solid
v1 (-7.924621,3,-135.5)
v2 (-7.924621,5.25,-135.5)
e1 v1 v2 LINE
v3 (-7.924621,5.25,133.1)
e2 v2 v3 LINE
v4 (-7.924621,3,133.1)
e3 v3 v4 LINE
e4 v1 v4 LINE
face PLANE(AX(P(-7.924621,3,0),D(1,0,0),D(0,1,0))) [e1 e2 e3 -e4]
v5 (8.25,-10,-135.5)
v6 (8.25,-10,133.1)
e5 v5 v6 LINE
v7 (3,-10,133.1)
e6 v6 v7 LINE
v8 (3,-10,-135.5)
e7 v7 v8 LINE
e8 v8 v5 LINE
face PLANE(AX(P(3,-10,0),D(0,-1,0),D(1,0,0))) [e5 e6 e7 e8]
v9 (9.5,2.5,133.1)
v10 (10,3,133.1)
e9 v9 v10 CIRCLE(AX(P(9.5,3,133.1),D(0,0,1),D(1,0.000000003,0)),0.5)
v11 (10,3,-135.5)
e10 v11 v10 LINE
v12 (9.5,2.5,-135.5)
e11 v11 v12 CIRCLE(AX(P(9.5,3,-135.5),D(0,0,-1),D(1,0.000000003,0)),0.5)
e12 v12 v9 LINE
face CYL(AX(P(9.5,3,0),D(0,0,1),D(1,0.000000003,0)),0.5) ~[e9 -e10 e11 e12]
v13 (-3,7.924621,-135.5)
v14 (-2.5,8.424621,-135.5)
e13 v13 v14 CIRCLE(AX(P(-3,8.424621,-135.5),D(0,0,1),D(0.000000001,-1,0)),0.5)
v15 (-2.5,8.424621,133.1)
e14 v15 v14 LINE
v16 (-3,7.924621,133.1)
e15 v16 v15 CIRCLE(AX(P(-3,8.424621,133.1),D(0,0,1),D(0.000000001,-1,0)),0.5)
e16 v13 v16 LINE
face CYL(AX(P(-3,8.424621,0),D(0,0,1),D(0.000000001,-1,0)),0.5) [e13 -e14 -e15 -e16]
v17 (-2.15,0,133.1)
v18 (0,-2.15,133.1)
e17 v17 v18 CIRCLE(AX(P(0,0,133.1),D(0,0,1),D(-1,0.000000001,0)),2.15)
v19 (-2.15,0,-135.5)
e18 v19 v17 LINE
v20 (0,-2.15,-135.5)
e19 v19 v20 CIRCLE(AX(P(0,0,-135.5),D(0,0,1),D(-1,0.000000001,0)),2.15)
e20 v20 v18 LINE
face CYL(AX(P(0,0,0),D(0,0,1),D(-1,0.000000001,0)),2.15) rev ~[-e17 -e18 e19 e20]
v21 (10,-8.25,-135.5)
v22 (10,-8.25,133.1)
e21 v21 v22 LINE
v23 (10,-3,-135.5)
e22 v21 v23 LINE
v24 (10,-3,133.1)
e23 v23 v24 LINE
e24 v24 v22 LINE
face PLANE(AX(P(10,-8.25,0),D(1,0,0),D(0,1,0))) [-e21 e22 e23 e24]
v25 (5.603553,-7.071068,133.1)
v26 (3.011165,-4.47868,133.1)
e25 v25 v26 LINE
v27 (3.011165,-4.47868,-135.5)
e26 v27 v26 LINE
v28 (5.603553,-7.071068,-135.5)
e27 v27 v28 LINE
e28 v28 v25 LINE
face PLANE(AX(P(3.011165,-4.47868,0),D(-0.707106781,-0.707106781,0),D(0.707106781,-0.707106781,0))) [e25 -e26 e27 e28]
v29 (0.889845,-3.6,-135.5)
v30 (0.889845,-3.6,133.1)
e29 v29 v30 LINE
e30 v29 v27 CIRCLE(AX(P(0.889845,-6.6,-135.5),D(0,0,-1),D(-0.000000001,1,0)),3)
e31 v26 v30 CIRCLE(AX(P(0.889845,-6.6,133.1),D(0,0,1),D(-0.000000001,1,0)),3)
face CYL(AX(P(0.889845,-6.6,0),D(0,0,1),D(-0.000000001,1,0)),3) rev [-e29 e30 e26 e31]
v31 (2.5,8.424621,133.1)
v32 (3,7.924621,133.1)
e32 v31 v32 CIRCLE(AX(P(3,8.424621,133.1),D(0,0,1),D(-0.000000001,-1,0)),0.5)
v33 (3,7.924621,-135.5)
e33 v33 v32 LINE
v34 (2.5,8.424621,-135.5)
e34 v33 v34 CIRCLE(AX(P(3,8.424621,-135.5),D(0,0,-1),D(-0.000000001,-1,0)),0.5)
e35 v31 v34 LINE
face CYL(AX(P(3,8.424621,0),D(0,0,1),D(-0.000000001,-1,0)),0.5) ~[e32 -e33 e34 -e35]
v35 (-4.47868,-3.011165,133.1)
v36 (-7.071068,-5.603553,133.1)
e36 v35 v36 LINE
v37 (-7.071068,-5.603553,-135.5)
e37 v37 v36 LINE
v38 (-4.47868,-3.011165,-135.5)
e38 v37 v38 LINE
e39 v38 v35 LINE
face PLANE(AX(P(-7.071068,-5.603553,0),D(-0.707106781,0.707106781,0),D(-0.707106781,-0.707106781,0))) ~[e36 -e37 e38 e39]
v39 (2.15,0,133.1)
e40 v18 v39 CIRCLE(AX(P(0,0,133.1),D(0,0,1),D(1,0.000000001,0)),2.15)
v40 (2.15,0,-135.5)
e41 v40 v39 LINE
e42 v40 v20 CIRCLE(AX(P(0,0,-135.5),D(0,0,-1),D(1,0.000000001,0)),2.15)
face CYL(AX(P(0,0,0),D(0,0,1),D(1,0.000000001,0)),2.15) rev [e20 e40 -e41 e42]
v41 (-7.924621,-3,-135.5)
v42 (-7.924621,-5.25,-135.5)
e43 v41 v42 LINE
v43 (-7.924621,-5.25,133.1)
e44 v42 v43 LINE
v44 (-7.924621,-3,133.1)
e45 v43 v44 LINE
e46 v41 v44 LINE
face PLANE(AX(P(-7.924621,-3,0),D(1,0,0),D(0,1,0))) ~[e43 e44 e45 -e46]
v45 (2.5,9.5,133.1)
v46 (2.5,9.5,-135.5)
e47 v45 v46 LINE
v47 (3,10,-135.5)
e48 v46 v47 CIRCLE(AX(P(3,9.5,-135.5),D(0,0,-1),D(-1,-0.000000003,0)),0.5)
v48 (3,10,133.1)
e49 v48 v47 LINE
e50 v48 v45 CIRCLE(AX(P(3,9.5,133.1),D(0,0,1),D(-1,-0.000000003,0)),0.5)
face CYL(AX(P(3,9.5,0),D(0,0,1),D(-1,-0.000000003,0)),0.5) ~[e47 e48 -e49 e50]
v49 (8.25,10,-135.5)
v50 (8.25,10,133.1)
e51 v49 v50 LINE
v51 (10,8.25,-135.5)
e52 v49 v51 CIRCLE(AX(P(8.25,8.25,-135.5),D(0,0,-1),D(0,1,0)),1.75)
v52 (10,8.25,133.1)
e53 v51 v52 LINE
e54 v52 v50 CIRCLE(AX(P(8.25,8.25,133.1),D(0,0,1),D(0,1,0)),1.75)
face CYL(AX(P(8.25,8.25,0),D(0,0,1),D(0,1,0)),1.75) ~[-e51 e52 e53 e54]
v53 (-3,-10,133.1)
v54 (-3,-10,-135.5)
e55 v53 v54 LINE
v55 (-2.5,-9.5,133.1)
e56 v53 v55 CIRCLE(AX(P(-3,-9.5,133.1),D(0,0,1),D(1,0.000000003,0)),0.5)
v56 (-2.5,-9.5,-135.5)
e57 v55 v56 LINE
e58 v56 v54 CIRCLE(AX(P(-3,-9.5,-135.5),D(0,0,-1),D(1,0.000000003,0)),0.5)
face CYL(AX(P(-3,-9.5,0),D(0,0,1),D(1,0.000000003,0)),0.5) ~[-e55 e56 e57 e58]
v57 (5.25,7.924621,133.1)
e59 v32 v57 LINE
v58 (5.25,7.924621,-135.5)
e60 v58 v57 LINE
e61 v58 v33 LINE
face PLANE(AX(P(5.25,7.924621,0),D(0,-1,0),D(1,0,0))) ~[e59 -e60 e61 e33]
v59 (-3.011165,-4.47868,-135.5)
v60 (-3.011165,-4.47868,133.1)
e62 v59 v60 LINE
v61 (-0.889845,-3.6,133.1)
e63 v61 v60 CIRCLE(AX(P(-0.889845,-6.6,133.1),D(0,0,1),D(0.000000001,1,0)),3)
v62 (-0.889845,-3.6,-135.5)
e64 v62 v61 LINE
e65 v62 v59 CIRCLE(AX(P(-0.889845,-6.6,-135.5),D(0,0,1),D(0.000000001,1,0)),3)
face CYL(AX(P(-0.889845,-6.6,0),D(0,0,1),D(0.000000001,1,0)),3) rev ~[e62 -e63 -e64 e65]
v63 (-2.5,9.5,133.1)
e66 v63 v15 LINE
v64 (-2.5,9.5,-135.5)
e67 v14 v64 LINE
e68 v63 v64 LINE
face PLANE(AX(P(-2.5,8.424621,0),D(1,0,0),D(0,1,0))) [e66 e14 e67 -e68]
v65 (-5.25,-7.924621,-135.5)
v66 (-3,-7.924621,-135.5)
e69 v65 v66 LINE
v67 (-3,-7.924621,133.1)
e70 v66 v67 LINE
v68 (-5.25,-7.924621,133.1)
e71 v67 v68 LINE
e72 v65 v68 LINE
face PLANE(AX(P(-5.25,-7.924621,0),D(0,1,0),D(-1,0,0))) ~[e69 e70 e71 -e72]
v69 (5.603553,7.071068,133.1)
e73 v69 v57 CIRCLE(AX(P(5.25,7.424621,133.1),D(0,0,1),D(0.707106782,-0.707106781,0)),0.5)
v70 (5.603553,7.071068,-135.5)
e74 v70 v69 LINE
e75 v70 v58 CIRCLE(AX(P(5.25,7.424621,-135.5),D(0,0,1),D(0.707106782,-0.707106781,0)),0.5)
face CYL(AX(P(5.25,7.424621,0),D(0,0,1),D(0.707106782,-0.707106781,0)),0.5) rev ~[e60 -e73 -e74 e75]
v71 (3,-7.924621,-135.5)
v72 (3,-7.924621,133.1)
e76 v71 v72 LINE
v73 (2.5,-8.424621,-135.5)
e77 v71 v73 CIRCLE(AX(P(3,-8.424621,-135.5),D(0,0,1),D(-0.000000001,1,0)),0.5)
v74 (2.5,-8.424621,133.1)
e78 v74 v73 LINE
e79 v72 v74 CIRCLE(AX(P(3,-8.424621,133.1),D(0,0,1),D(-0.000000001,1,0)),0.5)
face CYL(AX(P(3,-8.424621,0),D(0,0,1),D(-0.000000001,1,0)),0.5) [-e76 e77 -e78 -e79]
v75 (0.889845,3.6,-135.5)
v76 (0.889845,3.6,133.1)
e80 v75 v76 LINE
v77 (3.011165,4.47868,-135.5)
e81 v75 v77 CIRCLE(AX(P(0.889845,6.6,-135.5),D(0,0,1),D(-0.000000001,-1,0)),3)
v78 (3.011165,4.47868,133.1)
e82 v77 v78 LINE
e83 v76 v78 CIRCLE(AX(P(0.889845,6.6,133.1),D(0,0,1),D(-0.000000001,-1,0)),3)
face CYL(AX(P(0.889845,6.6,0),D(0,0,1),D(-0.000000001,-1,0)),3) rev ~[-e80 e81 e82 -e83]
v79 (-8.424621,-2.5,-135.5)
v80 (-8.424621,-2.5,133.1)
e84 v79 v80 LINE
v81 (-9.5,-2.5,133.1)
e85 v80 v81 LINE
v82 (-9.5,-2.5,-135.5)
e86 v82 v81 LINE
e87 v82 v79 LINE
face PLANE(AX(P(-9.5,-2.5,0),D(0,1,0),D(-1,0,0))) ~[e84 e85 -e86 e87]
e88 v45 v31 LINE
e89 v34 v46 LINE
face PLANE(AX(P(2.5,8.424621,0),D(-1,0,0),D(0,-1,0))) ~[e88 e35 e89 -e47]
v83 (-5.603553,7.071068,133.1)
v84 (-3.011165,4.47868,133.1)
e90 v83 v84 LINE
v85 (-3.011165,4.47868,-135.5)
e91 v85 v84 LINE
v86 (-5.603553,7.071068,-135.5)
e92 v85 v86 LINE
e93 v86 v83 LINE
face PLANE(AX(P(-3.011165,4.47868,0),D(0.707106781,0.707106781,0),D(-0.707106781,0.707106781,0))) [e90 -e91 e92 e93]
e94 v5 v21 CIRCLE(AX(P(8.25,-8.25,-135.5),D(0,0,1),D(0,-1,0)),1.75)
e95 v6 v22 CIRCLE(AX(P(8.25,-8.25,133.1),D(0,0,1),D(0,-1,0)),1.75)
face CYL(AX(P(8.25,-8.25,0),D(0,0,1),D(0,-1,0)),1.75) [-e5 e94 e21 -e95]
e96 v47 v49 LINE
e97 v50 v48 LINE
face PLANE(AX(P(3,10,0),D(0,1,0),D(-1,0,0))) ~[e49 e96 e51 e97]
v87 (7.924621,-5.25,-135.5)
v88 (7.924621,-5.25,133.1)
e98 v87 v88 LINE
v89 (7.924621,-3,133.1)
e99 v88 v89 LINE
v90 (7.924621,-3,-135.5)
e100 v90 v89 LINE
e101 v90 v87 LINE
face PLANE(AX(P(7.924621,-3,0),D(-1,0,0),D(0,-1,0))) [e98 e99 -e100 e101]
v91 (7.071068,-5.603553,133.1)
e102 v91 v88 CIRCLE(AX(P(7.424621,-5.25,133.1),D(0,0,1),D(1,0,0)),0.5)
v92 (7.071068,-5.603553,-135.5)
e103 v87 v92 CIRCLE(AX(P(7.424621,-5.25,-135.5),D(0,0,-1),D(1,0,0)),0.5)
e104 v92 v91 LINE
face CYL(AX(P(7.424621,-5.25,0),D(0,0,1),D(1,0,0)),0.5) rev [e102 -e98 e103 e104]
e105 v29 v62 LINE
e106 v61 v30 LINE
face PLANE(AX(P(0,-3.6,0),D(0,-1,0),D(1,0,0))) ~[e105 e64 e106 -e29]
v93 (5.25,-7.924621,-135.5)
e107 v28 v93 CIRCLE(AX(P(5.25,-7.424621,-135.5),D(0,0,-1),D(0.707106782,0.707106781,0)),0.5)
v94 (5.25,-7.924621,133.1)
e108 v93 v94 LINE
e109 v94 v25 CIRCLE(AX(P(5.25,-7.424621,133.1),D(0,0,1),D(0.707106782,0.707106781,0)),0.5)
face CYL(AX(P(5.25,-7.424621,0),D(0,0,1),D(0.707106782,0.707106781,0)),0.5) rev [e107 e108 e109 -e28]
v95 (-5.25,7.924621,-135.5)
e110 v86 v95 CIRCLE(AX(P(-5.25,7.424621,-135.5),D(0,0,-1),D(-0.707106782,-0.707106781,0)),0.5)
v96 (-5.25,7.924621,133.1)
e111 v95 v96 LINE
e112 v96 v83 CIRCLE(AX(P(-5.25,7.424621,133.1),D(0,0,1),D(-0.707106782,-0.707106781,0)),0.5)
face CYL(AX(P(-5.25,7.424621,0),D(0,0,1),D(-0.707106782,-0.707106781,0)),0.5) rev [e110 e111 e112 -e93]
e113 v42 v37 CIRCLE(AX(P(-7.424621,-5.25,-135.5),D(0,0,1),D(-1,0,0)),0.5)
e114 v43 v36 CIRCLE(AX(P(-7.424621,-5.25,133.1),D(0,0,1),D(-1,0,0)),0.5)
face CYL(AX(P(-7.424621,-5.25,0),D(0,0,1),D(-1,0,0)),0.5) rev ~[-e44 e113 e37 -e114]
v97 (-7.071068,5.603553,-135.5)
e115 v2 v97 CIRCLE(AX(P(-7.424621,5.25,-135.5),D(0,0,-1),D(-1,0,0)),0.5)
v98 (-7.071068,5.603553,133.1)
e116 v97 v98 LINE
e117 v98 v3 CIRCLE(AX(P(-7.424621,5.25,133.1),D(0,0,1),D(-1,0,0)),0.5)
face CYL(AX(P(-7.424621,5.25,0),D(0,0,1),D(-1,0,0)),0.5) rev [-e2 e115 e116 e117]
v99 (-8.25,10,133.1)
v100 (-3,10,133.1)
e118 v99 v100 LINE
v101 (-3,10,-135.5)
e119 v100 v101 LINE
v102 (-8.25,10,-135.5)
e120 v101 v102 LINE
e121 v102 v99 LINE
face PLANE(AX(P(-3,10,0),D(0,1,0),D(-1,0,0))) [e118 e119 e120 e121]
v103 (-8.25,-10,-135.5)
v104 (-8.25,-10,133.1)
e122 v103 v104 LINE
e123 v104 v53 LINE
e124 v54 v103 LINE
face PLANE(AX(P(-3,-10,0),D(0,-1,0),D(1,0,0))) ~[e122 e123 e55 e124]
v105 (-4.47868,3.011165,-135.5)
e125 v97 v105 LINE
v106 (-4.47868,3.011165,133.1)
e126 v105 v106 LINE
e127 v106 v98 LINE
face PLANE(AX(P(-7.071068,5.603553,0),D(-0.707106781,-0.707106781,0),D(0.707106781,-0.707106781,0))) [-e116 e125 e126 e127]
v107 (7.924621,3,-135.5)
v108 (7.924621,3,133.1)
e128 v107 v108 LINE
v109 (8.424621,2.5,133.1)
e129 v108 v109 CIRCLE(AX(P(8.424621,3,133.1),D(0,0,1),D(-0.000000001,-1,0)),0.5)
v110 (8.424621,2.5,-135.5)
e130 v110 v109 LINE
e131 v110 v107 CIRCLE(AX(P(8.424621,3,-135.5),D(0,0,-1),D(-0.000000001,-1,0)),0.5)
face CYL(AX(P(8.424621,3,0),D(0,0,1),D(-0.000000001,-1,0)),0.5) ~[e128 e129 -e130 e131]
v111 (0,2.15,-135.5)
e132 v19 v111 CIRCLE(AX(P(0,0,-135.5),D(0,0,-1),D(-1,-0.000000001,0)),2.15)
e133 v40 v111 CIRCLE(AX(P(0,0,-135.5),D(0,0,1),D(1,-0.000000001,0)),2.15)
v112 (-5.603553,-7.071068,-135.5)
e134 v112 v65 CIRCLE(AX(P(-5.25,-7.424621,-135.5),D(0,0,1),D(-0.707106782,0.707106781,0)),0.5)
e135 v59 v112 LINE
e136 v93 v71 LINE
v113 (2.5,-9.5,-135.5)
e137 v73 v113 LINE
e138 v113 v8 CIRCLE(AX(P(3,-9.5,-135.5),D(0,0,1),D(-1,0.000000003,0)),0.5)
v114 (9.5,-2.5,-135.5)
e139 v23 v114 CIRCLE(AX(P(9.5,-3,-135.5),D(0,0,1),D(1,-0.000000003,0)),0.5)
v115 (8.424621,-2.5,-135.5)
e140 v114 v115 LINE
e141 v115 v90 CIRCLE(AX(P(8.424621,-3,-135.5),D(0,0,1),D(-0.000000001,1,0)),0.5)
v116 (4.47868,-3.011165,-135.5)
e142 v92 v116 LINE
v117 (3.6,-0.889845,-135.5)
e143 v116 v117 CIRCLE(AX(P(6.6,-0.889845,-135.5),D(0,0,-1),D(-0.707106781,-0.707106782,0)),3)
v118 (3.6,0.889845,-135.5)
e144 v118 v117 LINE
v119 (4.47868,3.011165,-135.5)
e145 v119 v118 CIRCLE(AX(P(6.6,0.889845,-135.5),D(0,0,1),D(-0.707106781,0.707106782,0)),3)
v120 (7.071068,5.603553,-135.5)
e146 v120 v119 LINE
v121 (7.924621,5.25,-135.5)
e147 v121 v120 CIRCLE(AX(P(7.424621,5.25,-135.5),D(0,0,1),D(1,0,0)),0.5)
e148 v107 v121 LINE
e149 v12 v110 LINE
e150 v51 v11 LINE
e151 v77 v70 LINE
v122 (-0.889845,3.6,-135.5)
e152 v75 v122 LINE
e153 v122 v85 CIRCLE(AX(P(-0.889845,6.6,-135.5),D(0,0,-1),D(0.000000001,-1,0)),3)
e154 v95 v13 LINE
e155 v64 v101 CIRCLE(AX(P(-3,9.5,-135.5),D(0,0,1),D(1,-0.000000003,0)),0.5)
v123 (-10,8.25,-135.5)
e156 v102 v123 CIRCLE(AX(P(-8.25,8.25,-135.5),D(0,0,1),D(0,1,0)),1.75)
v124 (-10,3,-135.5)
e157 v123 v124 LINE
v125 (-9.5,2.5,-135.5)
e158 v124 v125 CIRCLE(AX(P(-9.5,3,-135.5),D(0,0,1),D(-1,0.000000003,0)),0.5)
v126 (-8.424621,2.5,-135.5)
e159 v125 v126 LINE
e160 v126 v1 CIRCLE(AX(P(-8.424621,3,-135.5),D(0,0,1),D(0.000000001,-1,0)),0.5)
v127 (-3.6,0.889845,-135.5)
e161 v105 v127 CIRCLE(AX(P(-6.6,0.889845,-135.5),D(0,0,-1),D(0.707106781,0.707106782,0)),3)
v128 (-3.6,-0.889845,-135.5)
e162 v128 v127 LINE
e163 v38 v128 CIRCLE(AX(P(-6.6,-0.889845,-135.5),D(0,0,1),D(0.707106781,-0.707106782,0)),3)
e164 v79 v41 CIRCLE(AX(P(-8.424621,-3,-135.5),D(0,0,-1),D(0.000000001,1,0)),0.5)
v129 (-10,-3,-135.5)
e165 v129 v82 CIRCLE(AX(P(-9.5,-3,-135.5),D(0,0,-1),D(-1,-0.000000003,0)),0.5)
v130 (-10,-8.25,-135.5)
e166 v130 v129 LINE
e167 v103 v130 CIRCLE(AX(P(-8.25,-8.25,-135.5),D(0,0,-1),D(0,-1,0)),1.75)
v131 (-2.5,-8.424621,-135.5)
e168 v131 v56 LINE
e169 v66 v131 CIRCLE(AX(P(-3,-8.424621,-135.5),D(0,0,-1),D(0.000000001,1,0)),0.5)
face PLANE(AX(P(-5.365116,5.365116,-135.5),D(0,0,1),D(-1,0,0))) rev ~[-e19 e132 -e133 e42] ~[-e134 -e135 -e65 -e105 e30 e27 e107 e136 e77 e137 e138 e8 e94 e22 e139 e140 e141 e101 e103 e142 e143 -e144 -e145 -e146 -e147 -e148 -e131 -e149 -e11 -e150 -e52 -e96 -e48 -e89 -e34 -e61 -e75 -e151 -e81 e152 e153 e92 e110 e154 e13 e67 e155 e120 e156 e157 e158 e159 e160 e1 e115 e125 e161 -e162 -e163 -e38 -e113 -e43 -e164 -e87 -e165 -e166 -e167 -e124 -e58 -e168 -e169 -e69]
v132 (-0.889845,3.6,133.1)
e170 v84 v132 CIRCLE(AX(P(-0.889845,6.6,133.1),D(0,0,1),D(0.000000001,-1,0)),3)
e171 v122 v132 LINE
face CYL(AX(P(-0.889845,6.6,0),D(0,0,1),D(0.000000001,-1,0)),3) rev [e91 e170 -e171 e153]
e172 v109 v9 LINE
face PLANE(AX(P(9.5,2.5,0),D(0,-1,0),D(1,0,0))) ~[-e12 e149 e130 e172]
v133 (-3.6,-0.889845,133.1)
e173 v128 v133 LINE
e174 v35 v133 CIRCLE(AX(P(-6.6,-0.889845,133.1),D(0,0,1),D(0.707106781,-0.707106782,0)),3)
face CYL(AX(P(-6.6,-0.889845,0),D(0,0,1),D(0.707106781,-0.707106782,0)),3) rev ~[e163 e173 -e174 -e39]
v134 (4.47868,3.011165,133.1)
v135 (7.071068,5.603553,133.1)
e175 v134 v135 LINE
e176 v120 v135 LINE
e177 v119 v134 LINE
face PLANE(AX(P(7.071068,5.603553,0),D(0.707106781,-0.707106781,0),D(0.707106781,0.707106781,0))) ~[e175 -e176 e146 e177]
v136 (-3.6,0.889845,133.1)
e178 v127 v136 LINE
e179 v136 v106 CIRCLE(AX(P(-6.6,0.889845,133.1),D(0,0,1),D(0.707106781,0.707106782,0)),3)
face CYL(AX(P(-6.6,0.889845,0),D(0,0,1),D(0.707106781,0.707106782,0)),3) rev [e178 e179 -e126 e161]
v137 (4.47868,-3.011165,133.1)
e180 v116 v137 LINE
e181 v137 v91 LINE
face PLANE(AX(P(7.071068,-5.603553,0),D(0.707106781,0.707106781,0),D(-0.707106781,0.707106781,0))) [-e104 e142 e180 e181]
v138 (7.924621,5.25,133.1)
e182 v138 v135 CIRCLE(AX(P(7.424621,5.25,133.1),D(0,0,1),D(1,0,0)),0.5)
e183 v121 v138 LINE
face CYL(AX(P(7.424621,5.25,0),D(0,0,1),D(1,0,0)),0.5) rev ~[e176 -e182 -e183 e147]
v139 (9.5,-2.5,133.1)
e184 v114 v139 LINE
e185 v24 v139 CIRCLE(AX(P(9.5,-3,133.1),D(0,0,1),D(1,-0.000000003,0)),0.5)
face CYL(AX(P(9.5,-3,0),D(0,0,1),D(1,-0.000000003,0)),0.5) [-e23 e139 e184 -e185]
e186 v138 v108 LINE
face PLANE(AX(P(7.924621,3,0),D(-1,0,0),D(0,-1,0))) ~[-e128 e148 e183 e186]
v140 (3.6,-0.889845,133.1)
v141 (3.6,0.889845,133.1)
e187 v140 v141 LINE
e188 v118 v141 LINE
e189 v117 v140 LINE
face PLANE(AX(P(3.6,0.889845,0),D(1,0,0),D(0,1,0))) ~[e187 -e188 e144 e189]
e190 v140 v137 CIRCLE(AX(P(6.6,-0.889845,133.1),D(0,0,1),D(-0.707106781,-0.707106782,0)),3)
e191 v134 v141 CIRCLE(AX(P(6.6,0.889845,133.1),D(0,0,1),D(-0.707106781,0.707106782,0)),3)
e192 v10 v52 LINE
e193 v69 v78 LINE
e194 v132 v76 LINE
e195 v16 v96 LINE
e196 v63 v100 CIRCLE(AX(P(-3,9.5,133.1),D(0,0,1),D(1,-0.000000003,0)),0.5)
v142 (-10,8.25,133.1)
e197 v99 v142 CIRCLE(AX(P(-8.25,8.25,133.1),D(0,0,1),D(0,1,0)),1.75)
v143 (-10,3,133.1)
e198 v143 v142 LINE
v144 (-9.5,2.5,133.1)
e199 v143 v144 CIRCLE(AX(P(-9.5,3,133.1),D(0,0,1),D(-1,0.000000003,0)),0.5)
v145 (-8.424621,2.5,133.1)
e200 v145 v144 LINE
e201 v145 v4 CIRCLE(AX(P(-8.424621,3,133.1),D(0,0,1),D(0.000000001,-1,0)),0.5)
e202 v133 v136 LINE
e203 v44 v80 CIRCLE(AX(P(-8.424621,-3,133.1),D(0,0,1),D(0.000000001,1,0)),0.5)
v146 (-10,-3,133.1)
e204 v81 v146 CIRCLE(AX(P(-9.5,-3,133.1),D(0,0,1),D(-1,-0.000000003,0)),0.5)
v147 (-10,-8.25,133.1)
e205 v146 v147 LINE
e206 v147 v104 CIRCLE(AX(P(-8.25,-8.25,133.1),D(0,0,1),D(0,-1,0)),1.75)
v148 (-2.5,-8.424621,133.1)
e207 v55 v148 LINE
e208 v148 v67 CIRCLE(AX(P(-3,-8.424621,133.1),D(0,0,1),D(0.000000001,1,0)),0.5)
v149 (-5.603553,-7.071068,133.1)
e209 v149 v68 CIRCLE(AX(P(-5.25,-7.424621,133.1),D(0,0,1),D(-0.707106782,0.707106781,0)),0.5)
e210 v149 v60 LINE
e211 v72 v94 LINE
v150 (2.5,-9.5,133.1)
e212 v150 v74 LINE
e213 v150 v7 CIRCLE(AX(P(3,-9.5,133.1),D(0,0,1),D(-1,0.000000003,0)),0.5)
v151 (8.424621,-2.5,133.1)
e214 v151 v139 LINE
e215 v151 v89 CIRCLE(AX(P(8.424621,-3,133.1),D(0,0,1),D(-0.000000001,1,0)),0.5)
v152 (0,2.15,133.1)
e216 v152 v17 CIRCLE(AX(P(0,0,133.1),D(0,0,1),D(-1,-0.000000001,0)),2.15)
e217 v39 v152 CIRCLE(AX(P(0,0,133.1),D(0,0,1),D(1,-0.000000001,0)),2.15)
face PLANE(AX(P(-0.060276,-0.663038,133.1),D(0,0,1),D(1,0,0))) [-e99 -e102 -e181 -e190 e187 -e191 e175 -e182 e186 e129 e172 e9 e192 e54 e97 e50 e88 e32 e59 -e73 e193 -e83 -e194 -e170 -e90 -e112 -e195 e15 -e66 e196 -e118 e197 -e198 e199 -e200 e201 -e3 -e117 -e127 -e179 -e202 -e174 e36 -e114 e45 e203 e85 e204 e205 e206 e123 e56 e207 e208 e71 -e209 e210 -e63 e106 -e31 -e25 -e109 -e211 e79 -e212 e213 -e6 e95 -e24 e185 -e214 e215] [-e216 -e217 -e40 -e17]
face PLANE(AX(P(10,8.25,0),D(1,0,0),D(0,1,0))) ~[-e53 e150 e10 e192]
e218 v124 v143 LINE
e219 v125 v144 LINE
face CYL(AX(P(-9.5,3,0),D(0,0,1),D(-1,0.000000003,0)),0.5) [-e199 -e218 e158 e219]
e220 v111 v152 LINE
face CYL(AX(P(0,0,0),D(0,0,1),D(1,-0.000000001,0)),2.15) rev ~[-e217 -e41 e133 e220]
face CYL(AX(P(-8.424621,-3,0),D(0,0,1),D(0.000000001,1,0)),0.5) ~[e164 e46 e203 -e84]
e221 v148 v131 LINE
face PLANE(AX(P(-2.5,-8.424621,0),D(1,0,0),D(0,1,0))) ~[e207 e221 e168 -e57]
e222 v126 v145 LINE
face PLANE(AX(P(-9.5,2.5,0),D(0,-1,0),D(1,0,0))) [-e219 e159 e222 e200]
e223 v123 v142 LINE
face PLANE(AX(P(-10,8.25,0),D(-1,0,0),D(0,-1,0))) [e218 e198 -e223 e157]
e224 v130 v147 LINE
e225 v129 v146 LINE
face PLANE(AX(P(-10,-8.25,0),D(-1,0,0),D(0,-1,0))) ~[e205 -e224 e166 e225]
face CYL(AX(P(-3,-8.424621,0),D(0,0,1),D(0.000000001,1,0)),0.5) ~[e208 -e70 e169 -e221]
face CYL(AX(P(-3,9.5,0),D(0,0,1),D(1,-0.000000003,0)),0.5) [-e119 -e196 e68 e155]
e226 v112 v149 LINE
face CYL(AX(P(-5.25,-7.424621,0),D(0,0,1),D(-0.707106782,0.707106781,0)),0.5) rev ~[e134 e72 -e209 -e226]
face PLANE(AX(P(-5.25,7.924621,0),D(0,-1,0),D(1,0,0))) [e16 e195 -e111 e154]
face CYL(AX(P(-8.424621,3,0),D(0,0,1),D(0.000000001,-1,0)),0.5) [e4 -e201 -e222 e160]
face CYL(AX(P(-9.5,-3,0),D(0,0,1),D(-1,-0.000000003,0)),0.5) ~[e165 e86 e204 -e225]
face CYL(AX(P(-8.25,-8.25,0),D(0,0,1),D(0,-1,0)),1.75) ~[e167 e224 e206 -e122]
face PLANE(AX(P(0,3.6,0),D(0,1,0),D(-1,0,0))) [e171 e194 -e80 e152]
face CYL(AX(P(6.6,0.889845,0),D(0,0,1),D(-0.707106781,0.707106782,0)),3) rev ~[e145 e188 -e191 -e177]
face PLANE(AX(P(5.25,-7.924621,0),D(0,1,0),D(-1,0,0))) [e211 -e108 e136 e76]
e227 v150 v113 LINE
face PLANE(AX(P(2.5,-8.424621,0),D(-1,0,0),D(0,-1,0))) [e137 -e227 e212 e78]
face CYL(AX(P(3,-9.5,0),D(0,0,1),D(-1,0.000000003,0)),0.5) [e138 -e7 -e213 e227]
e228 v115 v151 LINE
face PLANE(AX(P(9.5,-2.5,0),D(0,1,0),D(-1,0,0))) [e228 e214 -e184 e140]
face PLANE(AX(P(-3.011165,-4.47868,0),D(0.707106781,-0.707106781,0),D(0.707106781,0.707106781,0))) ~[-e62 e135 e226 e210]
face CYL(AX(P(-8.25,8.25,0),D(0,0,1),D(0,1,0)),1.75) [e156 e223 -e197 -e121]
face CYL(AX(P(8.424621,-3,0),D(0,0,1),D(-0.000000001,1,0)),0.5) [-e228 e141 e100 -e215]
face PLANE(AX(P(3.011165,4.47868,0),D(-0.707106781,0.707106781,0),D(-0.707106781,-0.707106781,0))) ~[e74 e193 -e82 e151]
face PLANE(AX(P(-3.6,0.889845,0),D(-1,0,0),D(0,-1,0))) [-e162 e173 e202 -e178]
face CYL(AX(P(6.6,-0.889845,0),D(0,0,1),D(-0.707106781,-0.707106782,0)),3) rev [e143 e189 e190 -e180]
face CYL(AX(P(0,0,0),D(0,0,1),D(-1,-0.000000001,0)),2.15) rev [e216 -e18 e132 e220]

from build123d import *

# Parameters (mm, degrees)
BOSS_EXTRUDE1_DEPTH = 135.5
SKETCH5_W           = 27.787302718
SKETCH5_H           = 26.03929452
CUT_EXTRUDE1_DEPTH  = 2.4


with BuildPart() as part:
    # Sketch4 → Boss-Extrude1 (new, symmetric)
    with BuildSketch(Plane.XY):
        with BuildLine():
            Line((3, -10), (8.25, -10))
            ThreePointArc((8.25, -10), (9.487436867, -9.487436867), (10, -8.25))
            Line((10, -8.25), (10, -3))
            ThreePointArc((10, -3), (9.853553391, -2.646446609), (9.5, -2.5))
            Line((9.5, -2.5), (8.424621202, -2.5))
            ThreePointArc((8.424621202, -2.5), (8.071067812, -2.646446609), (7.924621202, -3))
            Line((7.924621202, -3), (7.924621202, -5.25))
            ThreePointArc((7.924621202, -5.25), (7.615962919, -5.711939766), (7.071067812, -5.603553391))
            Line((7.071067812, -5.603553391), (4.478679656, -3.011165235))
            ThreePointArc((4.478679656, -3.011165235), (3.828361402, -2.037895189), (3.6, -0.889844892))
            Line((3.6, -0.889844892), (3.6, 0))
            Line((3.6, 0), (2.15, 0))
            ThreePointArc((2.15, 0), (1.52027958, -1.52027958), (0, -2.15))
            Line((0, -2.15), (0, -3.6))
            Line((0, -3.6), (0.889844892, -3.6))
            ThreePointArc((0.889844892, -3.6), (2.037895189, -3.828361402), (3.011165235, -4.478679656))
            Line((3.011165235, -4.478679656), (5.603553391, -7.071067812))
            ThreePointArc((5.603553391, -7.071067812), (5.711939766, -7.615962919), (5.25, -7.924621202))
            Line((5.25, -7.924621202), (3, -7.924621202))
            ThreePointArc((3, -7.924621202), (2.646446609, -8.071067812), (2.5, -8.424621202))
            Line((2.5, -8.424621202), (2.5, -9.5))
            ThreePointArc((2.5, -9.5), (2.646446609, -9.853553391), (3, -10))
        make_face()
    extrude(amount=BOSS_EXTRUDE1_DEPTH, both=True)

    # Mirror1: part across plane


with BuildPart() as part_1:
    add(part.part)
    add(part.part.mirror(Plane(origin=(0, 0, 0), x_dir=(0, 0, 1), z_dir=(1, 0, 0))))

    # Mirror2: part across plane


with BuildPart() as part_2:
    add(part_1.part)
    add(part_1.part.mirror(Plane.ZX))

    # Sketch5 → Cut-Extrude1 (cut)
    with BuildSketch(Plane.XY.offset(135.5)):
        with Locations((-0.060276145, -0.663037592)):
            Rectangle(SKETCH5_W, SKETCH5_H)
    extrude(amount=-CUT_EXTRUDE1_DEPTH, mode=Mode.SUBTRACT)


solid = part_2.part
